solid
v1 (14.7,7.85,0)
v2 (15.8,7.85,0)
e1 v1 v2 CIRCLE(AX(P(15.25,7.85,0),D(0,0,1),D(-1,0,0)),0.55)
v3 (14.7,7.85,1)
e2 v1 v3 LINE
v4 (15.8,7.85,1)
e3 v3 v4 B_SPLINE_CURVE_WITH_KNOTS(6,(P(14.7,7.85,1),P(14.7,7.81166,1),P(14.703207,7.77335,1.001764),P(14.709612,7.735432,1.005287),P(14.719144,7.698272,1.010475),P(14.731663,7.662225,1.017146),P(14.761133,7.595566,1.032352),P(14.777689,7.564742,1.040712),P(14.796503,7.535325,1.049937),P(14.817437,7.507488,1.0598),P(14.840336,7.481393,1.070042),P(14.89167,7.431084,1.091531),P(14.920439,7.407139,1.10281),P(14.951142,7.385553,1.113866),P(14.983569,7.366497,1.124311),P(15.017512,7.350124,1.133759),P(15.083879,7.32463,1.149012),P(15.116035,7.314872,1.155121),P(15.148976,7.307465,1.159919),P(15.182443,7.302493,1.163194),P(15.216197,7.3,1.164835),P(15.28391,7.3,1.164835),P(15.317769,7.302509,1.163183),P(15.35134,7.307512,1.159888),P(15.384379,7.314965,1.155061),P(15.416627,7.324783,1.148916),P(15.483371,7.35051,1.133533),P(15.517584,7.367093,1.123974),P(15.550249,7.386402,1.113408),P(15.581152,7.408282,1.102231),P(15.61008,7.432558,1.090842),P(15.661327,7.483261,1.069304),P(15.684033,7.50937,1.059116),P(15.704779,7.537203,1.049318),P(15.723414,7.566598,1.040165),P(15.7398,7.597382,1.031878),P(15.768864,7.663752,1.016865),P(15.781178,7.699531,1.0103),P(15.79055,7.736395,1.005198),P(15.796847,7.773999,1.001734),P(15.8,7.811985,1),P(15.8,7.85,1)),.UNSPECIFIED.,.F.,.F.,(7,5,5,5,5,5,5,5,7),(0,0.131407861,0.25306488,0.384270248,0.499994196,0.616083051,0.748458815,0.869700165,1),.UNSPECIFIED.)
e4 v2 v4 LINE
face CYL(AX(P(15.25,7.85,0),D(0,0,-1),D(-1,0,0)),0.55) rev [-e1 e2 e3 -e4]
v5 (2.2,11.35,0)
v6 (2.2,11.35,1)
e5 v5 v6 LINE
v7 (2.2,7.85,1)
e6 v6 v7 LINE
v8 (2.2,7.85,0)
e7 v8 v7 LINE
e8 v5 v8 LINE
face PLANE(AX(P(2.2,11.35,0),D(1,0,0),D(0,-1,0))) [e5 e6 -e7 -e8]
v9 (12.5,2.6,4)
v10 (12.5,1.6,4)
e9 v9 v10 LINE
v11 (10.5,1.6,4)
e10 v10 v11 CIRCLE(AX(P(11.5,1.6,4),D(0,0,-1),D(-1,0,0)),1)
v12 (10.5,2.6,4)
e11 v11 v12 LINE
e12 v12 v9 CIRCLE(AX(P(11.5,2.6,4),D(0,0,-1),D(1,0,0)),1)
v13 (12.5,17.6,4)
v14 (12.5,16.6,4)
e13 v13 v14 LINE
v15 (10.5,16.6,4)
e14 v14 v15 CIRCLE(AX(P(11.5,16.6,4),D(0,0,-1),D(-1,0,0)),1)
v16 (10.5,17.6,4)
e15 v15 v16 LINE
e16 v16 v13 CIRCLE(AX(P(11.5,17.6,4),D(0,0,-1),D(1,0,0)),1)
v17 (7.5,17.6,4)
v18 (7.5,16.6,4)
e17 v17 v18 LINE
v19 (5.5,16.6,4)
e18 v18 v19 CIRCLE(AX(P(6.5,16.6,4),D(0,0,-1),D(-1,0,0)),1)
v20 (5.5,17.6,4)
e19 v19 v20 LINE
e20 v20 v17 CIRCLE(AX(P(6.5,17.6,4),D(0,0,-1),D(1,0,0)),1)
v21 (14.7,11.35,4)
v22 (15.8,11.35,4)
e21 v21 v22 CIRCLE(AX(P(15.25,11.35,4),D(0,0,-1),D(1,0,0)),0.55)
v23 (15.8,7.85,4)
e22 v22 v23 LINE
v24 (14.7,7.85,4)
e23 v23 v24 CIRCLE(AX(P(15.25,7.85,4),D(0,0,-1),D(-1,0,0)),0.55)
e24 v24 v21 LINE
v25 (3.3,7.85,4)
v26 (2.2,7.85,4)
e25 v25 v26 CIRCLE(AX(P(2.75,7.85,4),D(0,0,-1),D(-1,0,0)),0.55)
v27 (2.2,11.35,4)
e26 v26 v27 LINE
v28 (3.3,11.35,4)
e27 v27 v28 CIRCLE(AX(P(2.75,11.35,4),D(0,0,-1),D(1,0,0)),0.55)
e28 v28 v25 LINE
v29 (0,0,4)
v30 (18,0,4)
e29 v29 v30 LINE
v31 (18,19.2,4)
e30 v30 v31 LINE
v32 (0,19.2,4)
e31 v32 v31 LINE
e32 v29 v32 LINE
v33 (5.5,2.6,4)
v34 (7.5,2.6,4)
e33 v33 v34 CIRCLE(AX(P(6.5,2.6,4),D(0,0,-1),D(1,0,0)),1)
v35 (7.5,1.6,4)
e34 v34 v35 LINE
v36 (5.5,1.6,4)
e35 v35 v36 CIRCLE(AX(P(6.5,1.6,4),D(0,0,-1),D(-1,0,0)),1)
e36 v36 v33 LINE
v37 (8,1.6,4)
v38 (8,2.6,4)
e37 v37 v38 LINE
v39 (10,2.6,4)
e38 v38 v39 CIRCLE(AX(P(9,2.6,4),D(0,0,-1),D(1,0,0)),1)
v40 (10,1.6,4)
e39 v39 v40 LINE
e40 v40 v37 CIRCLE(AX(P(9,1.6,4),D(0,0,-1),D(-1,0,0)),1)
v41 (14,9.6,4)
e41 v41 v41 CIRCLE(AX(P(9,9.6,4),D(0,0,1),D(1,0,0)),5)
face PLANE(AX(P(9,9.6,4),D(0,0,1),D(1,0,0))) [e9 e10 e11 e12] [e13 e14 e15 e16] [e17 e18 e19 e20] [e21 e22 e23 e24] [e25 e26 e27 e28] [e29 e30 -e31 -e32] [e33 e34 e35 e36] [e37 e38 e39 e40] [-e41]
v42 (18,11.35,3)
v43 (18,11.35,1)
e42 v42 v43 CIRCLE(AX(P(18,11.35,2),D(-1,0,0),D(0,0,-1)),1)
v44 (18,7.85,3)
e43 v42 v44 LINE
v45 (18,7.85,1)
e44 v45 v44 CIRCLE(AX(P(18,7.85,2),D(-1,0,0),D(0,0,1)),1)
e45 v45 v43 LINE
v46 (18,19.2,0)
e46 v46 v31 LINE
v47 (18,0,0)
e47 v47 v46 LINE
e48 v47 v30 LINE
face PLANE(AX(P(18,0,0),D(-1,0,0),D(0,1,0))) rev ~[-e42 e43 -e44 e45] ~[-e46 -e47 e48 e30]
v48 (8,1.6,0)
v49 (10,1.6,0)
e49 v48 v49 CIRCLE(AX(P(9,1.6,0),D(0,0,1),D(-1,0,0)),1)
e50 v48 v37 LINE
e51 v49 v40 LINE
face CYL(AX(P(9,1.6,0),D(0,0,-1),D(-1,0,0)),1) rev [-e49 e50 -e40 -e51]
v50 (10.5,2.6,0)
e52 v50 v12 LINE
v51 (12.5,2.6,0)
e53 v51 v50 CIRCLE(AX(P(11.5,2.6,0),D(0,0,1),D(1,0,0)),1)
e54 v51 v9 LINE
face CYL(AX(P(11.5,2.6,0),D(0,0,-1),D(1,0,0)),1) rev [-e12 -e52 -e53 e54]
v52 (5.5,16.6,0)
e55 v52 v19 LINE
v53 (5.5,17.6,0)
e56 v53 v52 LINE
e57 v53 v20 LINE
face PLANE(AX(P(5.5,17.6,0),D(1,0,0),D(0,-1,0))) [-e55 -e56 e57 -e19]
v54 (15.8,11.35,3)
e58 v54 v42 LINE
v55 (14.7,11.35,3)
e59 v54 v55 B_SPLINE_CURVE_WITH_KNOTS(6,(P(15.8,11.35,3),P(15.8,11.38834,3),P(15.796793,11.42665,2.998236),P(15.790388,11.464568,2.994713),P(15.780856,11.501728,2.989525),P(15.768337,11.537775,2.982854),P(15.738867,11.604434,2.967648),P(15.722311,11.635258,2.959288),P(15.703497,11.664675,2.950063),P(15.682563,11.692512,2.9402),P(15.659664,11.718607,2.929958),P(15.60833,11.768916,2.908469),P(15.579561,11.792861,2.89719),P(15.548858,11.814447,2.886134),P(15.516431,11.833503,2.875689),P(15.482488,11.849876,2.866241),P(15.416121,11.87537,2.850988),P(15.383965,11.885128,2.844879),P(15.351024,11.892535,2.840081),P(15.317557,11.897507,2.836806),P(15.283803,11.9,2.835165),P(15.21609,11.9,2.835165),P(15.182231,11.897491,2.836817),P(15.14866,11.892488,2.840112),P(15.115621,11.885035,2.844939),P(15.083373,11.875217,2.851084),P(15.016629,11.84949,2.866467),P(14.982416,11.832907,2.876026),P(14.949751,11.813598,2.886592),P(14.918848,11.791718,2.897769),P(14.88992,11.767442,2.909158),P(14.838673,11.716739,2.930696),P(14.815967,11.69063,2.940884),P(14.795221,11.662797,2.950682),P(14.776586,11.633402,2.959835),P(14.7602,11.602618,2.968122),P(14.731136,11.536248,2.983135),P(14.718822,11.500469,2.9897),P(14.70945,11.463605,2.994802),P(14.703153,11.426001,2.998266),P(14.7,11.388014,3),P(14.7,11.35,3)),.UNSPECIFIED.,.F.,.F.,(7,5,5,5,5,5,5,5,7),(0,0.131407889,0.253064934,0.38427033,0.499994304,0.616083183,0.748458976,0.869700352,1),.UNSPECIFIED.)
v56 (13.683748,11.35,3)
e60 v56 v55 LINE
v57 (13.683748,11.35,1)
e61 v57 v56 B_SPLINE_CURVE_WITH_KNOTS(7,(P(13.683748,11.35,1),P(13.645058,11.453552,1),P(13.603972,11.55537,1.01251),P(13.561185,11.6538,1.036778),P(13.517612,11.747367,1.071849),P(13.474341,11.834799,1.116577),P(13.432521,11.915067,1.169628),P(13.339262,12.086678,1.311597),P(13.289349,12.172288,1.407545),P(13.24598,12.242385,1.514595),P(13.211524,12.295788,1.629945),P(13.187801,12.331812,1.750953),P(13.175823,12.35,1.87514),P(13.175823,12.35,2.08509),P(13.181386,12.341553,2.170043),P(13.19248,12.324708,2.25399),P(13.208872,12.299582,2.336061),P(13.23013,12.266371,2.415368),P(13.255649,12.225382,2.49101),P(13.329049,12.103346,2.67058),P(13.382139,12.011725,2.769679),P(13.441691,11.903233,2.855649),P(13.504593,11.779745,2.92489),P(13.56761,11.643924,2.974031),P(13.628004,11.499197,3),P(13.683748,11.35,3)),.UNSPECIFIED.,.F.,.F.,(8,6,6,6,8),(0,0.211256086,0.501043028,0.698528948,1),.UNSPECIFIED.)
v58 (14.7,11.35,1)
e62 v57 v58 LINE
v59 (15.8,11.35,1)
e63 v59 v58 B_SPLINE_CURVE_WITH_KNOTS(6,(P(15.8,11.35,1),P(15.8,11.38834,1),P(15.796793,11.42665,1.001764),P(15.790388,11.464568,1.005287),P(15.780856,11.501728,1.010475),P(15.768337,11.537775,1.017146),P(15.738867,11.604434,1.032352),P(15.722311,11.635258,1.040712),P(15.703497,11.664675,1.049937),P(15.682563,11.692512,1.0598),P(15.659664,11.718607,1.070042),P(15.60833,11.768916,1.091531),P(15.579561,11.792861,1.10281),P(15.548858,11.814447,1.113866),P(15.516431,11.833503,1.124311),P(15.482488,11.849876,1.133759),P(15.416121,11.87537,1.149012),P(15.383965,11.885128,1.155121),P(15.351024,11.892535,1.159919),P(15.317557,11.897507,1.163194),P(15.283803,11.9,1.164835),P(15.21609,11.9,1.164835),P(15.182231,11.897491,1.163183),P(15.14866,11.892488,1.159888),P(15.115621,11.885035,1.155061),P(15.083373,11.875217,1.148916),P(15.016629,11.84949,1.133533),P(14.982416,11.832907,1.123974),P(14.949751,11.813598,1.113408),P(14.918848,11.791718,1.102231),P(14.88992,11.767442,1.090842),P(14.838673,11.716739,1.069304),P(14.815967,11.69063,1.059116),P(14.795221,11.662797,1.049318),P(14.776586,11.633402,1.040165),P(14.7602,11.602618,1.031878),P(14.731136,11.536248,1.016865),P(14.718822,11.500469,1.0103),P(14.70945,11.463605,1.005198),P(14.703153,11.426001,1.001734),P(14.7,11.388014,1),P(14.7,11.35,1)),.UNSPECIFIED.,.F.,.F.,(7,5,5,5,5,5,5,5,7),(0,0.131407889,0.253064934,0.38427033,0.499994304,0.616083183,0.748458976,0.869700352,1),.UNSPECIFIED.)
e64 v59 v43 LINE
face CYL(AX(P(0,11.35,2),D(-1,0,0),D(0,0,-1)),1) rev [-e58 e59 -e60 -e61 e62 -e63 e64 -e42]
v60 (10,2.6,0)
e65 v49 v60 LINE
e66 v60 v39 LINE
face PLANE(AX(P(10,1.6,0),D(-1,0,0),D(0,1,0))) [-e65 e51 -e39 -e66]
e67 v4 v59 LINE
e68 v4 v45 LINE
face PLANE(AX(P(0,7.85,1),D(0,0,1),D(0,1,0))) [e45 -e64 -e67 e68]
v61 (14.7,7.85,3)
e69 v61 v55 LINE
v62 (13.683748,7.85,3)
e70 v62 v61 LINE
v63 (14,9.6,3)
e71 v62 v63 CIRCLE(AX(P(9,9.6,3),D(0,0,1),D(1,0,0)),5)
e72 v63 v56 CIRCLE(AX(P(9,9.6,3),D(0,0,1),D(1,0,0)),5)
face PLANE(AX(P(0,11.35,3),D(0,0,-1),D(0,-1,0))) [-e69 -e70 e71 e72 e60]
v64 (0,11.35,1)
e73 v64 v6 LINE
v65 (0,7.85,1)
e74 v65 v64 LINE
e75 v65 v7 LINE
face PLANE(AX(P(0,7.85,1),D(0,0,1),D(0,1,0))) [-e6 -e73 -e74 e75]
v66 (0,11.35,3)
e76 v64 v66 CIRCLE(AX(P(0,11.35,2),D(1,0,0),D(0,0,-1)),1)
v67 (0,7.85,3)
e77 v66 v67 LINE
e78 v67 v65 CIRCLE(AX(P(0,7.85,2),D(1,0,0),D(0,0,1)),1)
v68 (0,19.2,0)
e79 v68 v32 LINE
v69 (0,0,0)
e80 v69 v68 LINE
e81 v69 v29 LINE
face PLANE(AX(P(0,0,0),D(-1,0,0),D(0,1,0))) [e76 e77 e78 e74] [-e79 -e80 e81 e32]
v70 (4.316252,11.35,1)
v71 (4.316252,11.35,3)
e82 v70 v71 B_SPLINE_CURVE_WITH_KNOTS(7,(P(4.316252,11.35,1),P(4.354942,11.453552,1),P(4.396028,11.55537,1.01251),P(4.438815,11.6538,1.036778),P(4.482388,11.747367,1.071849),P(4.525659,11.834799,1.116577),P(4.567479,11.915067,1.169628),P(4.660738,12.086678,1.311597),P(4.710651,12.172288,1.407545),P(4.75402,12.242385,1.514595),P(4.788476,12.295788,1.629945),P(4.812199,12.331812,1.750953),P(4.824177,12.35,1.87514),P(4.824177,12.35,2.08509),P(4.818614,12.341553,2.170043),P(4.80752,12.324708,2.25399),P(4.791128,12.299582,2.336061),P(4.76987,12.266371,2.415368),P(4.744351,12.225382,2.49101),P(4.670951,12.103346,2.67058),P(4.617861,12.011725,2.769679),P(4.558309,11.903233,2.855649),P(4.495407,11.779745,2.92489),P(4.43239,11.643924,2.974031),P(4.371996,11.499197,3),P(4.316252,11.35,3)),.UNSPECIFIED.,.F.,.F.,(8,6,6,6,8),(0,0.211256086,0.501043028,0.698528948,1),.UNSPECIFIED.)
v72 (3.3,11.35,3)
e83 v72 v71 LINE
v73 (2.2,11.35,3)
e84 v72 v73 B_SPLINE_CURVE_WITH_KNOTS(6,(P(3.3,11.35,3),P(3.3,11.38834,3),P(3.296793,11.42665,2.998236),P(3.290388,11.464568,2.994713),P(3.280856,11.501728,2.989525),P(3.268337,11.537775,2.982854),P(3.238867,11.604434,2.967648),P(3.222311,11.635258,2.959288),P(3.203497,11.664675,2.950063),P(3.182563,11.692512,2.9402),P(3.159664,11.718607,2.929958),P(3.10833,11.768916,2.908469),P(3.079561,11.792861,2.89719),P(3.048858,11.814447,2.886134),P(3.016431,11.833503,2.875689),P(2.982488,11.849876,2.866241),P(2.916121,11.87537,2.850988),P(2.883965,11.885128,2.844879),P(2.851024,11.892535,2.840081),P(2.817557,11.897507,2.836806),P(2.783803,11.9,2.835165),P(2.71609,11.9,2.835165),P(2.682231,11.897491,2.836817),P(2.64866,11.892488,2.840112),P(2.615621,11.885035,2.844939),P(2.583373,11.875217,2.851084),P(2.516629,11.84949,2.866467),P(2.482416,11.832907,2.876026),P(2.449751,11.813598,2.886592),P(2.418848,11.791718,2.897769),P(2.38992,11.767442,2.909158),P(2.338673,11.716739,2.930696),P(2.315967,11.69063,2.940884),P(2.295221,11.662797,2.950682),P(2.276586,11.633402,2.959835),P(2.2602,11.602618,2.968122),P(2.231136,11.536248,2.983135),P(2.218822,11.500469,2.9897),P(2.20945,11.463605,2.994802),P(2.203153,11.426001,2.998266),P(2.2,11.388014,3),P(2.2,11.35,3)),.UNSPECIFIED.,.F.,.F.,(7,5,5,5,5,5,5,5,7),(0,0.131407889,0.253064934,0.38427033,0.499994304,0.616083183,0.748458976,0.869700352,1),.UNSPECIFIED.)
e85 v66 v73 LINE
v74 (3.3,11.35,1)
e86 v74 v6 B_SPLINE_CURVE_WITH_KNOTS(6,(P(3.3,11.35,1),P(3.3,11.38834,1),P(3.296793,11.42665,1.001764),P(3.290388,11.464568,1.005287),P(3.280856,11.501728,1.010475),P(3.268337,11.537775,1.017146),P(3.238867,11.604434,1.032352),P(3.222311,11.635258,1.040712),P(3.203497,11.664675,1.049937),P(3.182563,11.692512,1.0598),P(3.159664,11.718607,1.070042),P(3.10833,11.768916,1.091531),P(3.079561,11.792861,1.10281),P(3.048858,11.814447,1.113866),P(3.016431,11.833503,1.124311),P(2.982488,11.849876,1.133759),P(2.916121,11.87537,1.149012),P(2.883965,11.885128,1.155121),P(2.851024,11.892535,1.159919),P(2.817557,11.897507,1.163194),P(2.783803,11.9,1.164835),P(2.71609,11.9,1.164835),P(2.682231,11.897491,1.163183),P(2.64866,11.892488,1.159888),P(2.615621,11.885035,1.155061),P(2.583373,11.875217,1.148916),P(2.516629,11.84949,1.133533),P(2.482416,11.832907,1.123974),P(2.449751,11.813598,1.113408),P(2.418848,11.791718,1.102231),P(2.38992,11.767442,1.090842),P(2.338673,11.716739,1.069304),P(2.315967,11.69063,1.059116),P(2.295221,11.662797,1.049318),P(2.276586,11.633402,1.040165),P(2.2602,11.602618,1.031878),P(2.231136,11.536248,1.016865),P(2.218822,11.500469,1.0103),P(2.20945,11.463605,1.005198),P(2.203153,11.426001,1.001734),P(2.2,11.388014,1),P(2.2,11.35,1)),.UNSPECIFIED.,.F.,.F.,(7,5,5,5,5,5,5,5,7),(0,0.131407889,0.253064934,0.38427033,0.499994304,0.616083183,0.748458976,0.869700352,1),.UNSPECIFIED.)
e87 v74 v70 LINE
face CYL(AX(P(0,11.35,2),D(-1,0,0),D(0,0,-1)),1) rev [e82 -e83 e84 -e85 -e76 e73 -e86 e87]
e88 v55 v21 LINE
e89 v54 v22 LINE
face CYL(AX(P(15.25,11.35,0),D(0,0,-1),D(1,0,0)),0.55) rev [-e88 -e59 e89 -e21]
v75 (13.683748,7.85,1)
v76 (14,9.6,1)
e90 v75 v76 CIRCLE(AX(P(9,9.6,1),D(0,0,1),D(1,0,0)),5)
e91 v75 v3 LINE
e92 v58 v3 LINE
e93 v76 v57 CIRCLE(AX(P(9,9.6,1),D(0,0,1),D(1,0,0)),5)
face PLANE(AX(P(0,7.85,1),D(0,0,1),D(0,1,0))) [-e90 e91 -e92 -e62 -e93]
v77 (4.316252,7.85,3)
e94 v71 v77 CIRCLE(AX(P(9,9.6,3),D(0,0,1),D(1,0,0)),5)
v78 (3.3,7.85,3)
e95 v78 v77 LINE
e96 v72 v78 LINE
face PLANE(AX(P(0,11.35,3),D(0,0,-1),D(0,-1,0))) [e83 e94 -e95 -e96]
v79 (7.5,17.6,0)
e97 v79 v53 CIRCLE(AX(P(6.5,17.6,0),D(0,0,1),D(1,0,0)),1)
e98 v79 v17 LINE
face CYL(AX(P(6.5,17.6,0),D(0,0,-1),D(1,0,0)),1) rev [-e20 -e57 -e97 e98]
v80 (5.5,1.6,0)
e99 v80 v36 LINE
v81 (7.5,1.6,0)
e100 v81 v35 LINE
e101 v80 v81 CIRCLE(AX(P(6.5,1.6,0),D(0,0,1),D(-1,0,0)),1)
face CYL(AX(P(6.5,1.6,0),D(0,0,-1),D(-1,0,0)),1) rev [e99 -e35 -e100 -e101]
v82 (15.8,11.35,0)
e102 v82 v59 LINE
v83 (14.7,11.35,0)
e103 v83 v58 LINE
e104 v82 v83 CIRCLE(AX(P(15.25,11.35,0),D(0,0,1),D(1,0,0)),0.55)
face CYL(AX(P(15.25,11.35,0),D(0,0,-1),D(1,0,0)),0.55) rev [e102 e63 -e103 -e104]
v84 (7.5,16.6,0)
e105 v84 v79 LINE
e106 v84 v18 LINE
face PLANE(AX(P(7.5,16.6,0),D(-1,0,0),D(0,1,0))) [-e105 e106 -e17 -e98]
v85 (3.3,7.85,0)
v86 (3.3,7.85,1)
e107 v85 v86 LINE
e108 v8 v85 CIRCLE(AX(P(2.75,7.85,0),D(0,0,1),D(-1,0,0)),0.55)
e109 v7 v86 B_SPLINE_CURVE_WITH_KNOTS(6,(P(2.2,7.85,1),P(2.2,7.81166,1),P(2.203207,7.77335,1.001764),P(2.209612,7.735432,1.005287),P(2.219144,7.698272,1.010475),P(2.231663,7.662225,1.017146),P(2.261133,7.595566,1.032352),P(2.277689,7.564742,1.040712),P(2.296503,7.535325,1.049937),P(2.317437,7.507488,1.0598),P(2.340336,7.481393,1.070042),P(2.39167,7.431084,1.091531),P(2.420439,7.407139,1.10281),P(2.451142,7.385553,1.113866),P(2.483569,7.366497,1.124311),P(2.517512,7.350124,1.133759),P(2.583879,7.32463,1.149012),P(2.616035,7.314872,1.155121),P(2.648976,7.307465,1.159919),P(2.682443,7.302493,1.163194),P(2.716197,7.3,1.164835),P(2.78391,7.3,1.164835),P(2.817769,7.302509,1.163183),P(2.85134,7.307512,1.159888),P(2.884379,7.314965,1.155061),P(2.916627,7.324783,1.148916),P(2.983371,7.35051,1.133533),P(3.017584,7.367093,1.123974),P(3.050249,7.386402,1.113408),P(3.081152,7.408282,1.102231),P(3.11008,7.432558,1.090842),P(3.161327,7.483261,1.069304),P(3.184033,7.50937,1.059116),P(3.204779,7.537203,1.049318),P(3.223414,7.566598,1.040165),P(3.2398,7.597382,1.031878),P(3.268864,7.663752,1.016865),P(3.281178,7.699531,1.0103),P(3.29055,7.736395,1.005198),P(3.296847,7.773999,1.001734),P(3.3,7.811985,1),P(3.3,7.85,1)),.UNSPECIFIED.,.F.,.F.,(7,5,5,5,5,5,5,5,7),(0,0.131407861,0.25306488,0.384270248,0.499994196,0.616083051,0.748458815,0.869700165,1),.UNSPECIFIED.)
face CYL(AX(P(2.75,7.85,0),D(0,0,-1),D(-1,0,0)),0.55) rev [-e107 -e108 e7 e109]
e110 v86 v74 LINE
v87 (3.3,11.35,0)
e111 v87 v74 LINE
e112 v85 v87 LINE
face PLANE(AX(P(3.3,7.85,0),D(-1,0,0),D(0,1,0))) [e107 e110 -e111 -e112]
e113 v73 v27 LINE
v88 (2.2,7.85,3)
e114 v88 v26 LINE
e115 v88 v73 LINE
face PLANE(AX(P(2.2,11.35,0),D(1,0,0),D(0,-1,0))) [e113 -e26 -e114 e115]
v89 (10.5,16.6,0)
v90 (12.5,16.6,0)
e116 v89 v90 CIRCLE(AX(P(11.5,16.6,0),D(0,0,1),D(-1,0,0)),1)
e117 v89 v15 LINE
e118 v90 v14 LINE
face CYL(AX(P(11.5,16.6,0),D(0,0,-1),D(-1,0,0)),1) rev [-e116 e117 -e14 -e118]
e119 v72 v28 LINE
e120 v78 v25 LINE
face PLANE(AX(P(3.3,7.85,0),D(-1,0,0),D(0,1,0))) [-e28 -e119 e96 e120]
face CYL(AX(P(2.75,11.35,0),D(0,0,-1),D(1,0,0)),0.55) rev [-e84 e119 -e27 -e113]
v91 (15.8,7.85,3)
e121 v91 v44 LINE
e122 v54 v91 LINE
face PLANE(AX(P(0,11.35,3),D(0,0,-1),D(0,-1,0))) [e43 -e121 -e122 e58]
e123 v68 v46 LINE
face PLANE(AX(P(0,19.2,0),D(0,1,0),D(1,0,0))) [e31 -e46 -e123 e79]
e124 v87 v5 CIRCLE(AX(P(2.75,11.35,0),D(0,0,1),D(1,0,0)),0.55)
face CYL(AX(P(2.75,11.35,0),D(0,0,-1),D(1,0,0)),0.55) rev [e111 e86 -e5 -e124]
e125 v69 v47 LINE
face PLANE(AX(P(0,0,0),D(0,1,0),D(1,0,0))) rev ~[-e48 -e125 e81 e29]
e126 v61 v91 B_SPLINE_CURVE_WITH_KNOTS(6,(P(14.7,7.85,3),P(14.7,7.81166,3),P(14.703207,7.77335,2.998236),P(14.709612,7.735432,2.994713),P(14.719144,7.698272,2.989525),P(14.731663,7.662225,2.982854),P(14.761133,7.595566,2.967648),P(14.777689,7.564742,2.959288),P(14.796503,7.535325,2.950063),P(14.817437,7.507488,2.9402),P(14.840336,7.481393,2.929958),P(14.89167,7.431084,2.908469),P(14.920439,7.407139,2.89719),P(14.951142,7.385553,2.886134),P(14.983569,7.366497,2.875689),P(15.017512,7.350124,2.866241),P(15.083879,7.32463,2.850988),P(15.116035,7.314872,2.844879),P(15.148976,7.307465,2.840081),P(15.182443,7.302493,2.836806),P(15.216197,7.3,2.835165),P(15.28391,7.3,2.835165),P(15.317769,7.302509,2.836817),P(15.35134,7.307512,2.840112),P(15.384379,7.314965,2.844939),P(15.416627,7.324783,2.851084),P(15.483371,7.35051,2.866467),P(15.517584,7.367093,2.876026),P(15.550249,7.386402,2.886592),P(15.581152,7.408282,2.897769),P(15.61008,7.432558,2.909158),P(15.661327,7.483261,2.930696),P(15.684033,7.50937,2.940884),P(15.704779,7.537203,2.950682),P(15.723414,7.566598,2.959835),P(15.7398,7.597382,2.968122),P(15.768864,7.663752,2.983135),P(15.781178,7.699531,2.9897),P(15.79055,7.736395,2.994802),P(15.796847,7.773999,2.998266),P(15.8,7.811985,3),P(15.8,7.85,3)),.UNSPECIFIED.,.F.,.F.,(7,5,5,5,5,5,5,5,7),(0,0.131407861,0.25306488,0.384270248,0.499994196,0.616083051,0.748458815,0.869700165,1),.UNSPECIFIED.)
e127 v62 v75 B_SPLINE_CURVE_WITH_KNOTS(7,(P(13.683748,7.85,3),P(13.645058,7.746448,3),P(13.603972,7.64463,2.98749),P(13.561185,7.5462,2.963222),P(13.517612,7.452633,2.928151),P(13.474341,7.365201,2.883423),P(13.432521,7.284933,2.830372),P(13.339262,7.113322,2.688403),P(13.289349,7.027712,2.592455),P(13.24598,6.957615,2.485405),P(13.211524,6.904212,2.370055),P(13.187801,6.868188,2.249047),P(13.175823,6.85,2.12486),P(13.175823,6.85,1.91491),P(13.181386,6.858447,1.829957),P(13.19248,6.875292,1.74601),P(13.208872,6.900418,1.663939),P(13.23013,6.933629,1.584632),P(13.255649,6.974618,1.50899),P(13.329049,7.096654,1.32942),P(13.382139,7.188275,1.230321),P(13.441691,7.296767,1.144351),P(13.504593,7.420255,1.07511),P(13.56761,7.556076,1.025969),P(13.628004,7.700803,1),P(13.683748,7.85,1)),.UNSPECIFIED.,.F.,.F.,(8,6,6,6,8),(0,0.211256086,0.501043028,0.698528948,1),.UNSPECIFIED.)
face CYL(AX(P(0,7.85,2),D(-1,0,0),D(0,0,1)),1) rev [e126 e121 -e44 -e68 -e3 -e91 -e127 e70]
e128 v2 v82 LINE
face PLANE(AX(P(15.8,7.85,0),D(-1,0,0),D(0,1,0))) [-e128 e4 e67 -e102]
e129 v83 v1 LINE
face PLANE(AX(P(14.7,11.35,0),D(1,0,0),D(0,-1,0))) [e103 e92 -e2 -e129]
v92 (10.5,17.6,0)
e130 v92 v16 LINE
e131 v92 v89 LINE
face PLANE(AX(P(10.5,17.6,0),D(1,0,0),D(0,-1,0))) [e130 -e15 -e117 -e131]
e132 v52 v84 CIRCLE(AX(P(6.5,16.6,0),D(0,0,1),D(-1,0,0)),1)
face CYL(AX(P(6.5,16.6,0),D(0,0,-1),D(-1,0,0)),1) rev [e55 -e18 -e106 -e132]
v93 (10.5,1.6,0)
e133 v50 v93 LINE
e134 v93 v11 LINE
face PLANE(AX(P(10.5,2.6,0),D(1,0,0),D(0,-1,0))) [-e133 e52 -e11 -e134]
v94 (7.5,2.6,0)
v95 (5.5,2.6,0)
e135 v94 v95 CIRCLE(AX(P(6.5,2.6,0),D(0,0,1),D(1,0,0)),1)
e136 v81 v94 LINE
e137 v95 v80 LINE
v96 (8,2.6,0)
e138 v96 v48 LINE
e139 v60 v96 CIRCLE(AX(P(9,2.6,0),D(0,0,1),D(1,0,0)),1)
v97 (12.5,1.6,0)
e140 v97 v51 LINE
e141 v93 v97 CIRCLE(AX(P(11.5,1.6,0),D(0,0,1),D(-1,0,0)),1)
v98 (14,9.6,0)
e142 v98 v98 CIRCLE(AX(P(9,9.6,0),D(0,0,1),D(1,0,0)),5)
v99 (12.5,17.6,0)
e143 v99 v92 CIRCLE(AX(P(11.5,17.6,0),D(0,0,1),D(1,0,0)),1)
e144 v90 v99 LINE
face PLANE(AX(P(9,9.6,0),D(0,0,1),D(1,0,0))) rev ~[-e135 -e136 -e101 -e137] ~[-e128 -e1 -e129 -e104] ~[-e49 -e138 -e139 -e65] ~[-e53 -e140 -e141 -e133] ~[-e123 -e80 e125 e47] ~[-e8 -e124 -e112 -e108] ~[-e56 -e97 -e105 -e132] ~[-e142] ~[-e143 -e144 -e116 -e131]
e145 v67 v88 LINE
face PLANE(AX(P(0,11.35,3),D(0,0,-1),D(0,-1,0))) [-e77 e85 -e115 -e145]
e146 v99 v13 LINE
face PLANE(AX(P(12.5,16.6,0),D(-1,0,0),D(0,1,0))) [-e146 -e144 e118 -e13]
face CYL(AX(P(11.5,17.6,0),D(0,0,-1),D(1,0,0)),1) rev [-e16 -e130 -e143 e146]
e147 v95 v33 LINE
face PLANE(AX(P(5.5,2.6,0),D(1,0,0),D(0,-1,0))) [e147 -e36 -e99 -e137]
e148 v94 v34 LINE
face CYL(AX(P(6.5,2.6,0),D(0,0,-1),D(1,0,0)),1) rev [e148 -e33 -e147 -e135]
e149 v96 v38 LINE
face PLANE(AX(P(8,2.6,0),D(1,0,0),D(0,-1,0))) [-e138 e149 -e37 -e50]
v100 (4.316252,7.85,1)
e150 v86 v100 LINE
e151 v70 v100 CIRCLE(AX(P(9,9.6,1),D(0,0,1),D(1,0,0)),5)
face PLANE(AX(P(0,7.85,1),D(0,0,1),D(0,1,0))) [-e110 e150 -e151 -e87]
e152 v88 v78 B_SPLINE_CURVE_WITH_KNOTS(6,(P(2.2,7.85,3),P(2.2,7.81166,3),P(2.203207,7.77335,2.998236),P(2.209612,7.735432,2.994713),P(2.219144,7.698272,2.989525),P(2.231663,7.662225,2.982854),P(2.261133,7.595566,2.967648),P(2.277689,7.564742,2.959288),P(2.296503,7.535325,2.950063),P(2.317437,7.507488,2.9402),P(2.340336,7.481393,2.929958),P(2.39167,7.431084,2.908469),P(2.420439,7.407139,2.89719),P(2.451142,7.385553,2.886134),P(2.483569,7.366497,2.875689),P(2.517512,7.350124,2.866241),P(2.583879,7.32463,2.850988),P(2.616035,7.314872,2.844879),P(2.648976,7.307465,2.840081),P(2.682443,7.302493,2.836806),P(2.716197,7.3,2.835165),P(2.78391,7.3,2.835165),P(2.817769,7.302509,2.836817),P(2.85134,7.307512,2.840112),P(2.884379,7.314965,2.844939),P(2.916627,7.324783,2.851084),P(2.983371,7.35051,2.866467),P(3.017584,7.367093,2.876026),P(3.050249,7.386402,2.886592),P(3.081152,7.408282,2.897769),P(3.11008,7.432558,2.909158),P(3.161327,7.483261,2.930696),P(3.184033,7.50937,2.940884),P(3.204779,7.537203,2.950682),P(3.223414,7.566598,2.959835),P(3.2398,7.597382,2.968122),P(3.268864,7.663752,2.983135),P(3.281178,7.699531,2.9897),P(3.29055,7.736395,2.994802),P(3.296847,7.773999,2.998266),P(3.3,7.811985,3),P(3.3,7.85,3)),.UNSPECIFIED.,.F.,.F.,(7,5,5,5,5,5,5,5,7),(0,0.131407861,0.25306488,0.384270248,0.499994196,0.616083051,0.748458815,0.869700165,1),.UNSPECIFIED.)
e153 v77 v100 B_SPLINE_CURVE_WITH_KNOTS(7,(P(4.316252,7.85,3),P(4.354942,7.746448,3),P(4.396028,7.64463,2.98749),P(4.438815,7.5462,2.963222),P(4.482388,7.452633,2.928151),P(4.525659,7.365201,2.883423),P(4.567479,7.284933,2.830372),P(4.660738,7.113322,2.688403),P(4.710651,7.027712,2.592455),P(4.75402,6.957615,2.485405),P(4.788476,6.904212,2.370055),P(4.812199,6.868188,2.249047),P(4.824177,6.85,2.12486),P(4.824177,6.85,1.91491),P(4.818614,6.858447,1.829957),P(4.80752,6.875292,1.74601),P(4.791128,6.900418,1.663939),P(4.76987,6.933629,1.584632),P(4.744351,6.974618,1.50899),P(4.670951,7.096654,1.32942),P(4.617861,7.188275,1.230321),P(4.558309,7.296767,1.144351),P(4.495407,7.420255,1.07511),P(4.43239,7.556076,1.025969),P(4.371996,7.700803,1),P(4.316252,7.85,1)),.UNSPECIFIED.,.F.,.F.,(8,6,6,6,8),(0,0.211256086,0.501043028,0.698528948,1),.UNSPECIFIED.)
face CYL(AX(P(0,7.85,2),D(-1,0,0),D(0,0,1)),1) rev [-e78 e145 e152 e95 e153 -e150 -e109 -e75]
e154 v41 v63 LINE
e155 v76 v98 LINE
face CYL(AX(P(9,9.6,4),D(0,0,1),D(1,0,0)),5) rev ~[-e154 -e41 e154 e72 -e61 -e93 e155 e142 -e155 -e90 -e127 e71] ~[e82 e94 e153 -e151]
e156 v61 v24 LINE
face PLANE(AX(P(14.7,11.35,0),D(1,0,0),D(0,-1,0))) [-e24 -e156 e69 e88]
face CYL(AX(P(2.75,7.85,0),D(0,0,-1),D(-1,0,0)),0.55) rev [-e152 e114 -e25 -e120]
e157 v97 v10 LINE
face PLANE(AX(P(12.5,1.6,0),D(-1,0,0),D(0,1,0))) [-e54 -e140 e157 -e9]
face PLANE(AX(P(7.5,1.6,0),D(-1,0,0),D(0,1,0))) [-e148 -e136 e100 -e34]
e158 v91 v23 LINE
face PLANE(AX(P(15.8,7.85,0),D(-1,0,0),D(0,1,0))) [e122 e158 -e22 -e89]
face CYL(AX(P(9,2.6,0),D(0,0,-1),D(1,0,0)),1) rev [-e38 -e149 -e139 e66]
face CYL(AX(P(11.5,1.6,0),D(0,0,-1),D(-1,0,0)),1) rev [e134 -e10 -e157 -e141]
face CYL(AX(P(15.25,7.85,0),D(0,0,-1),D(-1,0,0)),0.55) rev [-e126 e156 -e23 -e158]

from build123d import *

# Parameters (mm, degrees)
SKETCH_W             = 18
SKETCH_H             = 19.2
PAD_DEPTH            = 4
POCKET_DEPTH         = 0.001
POCKET_DEPTH_BACK    = -4.001
POCKET001_DEPTH      = 0.001
POCKET001_DEPTH_BACK = -18.001
SKETCH003_R          = 5
POCKET002_DEPTH      = 4.001


with BuildPart() as part:
    # Sketch → Pad (new body)
    with BuildSketch(Plane.XY):
        with Locations((9, 9.6)):
            Rectangle(SKETCH_W, SKETCH_H)
    extrude(amount=PAD_DEPTH)

    # Sketch001 → Pocket (cut, two sides)
    with BuildSketch(Plane.XY) as pocket_sk:
        with BuildLine():
            ThreePointArc((3.3, 11.35), (2.75, 11.9), (2.2, 11.35))
            Line((2.2, 11.35), (2.2, 7.85))
            ThreePointArc((2.2, 7.85), (2.75, 7.3), (3.3, 7.85))
            Line((3.3, 7.85), (3.3, 11.35))
        make_face()
        with BuildLine():
            ThreePointArc((15.8, 11.35), (15.25, 11.9), (14.7, 11.35))
            Line((14.7, 11.35), (14.7, 7.85))
            ThreePointArc((14.7, 7.85), (15.25, 7.3), (15.8, 7.85))
            Line((15.8, 7.85), (15.8, 11.35))
        make_face()
        with BuildLine():
            ThreePointArc((5.5, 16.6), (6.5, 15.6), (7.5, 16.6))
            Line((7.5, 16.6), (7.5, 17.6))
            ThreePointArc((7.5, 17.6), (6.5, 18.6), (5.5, 17.6))
            Line((5.5, 17.6), (5.5, 16.6))
        make_face()
        with BuildLine():
            ThreePointArc((10.5, 16.6), (11.5, 15.6), (12.5, 16.6))
            Line((12.5, 16.6), (12.5, 17.6))
            ThreePointArc((12.5, 17.6), (11.5, 18.6), (10.5, 17.6))
            Line((10.5, 17.6), (10.5, 16.6))
        make_face()
        with BuildLine():
            ThreePointArc((12.5, 2.6), (11.5, 3.6), (10.5, 2.6))
            Line((10.5, 2.6), (10.5, 1.6))
            ThreePointArc((10.5, 1.6), (11.5, 0.6), (12.5, 1.6))
            Line((12.5, 1.6), (12.5, 2.6))
        make_face()
        with BuildLine():
            ThreePointArc((10, 2.6), (9, 3.6), (8, 2.6))
            Line((8, 2.6), (8, 1.6))
            ThreePointArc((8, 1.6), (9, 0.6), (10, 1.6))
            Line((10, 1.6), (10, 2.6))
        make_face()
        with BuildLine():
            ThreePointArc((7.5, 2.6), (6.5, 3.6), (5.5, 2.6))
            Line((5.5, 2.6), (5.5, 1.6))
            ThreePointArc((5.5, 1.6), (6.5, 0.6), (7.5, 1.6))
            Line((7.5, 1.6), (7.5, 2.6))
        make_face()
    extrude(amount=-POCKET_DEPTH, mode=Mode.SUBTRACT)
    extrude(pocket_sk.sketch, amount=-POCKET_DEPTH_BACK, mode=Mode.SUBTRACT)

    # Sketch002 → Pocket001 (cut, two sides)
    with BuildSketch(Plane.YZ) as pocket001_sk:
        with BuildLine():
            ThreePointArc((7.85, 3), (6.85, 2), (7.85, 1))
            Line((7.85, 1), (11.35, 1))
            ThreePointArc((11.35, 1), (12.35, 2), (11.35, 3))
            Line((11.35, 3), (7.85, 3))
        make_face()
    extrude(amount=-POCKET001_DEPTH, mode=Mode.SUBTRACT)
    extrude(pocket001_sk.sketch, amount=-POCKET001_DEPTH_BACK, mode=Mode.SUBTRACT)

    # Sketch003 (on DatumPlane) → Pocket002 (cut, through all)
    with BuildSketch(Plane.XY.offset(4)):
        with Locations((9, 9.6)):
            Circle(SKETCH003_R)
    extrude(amount=-POCKET002_DEPTH, mode=Mode.SUBTRACT)


solid = part.part
